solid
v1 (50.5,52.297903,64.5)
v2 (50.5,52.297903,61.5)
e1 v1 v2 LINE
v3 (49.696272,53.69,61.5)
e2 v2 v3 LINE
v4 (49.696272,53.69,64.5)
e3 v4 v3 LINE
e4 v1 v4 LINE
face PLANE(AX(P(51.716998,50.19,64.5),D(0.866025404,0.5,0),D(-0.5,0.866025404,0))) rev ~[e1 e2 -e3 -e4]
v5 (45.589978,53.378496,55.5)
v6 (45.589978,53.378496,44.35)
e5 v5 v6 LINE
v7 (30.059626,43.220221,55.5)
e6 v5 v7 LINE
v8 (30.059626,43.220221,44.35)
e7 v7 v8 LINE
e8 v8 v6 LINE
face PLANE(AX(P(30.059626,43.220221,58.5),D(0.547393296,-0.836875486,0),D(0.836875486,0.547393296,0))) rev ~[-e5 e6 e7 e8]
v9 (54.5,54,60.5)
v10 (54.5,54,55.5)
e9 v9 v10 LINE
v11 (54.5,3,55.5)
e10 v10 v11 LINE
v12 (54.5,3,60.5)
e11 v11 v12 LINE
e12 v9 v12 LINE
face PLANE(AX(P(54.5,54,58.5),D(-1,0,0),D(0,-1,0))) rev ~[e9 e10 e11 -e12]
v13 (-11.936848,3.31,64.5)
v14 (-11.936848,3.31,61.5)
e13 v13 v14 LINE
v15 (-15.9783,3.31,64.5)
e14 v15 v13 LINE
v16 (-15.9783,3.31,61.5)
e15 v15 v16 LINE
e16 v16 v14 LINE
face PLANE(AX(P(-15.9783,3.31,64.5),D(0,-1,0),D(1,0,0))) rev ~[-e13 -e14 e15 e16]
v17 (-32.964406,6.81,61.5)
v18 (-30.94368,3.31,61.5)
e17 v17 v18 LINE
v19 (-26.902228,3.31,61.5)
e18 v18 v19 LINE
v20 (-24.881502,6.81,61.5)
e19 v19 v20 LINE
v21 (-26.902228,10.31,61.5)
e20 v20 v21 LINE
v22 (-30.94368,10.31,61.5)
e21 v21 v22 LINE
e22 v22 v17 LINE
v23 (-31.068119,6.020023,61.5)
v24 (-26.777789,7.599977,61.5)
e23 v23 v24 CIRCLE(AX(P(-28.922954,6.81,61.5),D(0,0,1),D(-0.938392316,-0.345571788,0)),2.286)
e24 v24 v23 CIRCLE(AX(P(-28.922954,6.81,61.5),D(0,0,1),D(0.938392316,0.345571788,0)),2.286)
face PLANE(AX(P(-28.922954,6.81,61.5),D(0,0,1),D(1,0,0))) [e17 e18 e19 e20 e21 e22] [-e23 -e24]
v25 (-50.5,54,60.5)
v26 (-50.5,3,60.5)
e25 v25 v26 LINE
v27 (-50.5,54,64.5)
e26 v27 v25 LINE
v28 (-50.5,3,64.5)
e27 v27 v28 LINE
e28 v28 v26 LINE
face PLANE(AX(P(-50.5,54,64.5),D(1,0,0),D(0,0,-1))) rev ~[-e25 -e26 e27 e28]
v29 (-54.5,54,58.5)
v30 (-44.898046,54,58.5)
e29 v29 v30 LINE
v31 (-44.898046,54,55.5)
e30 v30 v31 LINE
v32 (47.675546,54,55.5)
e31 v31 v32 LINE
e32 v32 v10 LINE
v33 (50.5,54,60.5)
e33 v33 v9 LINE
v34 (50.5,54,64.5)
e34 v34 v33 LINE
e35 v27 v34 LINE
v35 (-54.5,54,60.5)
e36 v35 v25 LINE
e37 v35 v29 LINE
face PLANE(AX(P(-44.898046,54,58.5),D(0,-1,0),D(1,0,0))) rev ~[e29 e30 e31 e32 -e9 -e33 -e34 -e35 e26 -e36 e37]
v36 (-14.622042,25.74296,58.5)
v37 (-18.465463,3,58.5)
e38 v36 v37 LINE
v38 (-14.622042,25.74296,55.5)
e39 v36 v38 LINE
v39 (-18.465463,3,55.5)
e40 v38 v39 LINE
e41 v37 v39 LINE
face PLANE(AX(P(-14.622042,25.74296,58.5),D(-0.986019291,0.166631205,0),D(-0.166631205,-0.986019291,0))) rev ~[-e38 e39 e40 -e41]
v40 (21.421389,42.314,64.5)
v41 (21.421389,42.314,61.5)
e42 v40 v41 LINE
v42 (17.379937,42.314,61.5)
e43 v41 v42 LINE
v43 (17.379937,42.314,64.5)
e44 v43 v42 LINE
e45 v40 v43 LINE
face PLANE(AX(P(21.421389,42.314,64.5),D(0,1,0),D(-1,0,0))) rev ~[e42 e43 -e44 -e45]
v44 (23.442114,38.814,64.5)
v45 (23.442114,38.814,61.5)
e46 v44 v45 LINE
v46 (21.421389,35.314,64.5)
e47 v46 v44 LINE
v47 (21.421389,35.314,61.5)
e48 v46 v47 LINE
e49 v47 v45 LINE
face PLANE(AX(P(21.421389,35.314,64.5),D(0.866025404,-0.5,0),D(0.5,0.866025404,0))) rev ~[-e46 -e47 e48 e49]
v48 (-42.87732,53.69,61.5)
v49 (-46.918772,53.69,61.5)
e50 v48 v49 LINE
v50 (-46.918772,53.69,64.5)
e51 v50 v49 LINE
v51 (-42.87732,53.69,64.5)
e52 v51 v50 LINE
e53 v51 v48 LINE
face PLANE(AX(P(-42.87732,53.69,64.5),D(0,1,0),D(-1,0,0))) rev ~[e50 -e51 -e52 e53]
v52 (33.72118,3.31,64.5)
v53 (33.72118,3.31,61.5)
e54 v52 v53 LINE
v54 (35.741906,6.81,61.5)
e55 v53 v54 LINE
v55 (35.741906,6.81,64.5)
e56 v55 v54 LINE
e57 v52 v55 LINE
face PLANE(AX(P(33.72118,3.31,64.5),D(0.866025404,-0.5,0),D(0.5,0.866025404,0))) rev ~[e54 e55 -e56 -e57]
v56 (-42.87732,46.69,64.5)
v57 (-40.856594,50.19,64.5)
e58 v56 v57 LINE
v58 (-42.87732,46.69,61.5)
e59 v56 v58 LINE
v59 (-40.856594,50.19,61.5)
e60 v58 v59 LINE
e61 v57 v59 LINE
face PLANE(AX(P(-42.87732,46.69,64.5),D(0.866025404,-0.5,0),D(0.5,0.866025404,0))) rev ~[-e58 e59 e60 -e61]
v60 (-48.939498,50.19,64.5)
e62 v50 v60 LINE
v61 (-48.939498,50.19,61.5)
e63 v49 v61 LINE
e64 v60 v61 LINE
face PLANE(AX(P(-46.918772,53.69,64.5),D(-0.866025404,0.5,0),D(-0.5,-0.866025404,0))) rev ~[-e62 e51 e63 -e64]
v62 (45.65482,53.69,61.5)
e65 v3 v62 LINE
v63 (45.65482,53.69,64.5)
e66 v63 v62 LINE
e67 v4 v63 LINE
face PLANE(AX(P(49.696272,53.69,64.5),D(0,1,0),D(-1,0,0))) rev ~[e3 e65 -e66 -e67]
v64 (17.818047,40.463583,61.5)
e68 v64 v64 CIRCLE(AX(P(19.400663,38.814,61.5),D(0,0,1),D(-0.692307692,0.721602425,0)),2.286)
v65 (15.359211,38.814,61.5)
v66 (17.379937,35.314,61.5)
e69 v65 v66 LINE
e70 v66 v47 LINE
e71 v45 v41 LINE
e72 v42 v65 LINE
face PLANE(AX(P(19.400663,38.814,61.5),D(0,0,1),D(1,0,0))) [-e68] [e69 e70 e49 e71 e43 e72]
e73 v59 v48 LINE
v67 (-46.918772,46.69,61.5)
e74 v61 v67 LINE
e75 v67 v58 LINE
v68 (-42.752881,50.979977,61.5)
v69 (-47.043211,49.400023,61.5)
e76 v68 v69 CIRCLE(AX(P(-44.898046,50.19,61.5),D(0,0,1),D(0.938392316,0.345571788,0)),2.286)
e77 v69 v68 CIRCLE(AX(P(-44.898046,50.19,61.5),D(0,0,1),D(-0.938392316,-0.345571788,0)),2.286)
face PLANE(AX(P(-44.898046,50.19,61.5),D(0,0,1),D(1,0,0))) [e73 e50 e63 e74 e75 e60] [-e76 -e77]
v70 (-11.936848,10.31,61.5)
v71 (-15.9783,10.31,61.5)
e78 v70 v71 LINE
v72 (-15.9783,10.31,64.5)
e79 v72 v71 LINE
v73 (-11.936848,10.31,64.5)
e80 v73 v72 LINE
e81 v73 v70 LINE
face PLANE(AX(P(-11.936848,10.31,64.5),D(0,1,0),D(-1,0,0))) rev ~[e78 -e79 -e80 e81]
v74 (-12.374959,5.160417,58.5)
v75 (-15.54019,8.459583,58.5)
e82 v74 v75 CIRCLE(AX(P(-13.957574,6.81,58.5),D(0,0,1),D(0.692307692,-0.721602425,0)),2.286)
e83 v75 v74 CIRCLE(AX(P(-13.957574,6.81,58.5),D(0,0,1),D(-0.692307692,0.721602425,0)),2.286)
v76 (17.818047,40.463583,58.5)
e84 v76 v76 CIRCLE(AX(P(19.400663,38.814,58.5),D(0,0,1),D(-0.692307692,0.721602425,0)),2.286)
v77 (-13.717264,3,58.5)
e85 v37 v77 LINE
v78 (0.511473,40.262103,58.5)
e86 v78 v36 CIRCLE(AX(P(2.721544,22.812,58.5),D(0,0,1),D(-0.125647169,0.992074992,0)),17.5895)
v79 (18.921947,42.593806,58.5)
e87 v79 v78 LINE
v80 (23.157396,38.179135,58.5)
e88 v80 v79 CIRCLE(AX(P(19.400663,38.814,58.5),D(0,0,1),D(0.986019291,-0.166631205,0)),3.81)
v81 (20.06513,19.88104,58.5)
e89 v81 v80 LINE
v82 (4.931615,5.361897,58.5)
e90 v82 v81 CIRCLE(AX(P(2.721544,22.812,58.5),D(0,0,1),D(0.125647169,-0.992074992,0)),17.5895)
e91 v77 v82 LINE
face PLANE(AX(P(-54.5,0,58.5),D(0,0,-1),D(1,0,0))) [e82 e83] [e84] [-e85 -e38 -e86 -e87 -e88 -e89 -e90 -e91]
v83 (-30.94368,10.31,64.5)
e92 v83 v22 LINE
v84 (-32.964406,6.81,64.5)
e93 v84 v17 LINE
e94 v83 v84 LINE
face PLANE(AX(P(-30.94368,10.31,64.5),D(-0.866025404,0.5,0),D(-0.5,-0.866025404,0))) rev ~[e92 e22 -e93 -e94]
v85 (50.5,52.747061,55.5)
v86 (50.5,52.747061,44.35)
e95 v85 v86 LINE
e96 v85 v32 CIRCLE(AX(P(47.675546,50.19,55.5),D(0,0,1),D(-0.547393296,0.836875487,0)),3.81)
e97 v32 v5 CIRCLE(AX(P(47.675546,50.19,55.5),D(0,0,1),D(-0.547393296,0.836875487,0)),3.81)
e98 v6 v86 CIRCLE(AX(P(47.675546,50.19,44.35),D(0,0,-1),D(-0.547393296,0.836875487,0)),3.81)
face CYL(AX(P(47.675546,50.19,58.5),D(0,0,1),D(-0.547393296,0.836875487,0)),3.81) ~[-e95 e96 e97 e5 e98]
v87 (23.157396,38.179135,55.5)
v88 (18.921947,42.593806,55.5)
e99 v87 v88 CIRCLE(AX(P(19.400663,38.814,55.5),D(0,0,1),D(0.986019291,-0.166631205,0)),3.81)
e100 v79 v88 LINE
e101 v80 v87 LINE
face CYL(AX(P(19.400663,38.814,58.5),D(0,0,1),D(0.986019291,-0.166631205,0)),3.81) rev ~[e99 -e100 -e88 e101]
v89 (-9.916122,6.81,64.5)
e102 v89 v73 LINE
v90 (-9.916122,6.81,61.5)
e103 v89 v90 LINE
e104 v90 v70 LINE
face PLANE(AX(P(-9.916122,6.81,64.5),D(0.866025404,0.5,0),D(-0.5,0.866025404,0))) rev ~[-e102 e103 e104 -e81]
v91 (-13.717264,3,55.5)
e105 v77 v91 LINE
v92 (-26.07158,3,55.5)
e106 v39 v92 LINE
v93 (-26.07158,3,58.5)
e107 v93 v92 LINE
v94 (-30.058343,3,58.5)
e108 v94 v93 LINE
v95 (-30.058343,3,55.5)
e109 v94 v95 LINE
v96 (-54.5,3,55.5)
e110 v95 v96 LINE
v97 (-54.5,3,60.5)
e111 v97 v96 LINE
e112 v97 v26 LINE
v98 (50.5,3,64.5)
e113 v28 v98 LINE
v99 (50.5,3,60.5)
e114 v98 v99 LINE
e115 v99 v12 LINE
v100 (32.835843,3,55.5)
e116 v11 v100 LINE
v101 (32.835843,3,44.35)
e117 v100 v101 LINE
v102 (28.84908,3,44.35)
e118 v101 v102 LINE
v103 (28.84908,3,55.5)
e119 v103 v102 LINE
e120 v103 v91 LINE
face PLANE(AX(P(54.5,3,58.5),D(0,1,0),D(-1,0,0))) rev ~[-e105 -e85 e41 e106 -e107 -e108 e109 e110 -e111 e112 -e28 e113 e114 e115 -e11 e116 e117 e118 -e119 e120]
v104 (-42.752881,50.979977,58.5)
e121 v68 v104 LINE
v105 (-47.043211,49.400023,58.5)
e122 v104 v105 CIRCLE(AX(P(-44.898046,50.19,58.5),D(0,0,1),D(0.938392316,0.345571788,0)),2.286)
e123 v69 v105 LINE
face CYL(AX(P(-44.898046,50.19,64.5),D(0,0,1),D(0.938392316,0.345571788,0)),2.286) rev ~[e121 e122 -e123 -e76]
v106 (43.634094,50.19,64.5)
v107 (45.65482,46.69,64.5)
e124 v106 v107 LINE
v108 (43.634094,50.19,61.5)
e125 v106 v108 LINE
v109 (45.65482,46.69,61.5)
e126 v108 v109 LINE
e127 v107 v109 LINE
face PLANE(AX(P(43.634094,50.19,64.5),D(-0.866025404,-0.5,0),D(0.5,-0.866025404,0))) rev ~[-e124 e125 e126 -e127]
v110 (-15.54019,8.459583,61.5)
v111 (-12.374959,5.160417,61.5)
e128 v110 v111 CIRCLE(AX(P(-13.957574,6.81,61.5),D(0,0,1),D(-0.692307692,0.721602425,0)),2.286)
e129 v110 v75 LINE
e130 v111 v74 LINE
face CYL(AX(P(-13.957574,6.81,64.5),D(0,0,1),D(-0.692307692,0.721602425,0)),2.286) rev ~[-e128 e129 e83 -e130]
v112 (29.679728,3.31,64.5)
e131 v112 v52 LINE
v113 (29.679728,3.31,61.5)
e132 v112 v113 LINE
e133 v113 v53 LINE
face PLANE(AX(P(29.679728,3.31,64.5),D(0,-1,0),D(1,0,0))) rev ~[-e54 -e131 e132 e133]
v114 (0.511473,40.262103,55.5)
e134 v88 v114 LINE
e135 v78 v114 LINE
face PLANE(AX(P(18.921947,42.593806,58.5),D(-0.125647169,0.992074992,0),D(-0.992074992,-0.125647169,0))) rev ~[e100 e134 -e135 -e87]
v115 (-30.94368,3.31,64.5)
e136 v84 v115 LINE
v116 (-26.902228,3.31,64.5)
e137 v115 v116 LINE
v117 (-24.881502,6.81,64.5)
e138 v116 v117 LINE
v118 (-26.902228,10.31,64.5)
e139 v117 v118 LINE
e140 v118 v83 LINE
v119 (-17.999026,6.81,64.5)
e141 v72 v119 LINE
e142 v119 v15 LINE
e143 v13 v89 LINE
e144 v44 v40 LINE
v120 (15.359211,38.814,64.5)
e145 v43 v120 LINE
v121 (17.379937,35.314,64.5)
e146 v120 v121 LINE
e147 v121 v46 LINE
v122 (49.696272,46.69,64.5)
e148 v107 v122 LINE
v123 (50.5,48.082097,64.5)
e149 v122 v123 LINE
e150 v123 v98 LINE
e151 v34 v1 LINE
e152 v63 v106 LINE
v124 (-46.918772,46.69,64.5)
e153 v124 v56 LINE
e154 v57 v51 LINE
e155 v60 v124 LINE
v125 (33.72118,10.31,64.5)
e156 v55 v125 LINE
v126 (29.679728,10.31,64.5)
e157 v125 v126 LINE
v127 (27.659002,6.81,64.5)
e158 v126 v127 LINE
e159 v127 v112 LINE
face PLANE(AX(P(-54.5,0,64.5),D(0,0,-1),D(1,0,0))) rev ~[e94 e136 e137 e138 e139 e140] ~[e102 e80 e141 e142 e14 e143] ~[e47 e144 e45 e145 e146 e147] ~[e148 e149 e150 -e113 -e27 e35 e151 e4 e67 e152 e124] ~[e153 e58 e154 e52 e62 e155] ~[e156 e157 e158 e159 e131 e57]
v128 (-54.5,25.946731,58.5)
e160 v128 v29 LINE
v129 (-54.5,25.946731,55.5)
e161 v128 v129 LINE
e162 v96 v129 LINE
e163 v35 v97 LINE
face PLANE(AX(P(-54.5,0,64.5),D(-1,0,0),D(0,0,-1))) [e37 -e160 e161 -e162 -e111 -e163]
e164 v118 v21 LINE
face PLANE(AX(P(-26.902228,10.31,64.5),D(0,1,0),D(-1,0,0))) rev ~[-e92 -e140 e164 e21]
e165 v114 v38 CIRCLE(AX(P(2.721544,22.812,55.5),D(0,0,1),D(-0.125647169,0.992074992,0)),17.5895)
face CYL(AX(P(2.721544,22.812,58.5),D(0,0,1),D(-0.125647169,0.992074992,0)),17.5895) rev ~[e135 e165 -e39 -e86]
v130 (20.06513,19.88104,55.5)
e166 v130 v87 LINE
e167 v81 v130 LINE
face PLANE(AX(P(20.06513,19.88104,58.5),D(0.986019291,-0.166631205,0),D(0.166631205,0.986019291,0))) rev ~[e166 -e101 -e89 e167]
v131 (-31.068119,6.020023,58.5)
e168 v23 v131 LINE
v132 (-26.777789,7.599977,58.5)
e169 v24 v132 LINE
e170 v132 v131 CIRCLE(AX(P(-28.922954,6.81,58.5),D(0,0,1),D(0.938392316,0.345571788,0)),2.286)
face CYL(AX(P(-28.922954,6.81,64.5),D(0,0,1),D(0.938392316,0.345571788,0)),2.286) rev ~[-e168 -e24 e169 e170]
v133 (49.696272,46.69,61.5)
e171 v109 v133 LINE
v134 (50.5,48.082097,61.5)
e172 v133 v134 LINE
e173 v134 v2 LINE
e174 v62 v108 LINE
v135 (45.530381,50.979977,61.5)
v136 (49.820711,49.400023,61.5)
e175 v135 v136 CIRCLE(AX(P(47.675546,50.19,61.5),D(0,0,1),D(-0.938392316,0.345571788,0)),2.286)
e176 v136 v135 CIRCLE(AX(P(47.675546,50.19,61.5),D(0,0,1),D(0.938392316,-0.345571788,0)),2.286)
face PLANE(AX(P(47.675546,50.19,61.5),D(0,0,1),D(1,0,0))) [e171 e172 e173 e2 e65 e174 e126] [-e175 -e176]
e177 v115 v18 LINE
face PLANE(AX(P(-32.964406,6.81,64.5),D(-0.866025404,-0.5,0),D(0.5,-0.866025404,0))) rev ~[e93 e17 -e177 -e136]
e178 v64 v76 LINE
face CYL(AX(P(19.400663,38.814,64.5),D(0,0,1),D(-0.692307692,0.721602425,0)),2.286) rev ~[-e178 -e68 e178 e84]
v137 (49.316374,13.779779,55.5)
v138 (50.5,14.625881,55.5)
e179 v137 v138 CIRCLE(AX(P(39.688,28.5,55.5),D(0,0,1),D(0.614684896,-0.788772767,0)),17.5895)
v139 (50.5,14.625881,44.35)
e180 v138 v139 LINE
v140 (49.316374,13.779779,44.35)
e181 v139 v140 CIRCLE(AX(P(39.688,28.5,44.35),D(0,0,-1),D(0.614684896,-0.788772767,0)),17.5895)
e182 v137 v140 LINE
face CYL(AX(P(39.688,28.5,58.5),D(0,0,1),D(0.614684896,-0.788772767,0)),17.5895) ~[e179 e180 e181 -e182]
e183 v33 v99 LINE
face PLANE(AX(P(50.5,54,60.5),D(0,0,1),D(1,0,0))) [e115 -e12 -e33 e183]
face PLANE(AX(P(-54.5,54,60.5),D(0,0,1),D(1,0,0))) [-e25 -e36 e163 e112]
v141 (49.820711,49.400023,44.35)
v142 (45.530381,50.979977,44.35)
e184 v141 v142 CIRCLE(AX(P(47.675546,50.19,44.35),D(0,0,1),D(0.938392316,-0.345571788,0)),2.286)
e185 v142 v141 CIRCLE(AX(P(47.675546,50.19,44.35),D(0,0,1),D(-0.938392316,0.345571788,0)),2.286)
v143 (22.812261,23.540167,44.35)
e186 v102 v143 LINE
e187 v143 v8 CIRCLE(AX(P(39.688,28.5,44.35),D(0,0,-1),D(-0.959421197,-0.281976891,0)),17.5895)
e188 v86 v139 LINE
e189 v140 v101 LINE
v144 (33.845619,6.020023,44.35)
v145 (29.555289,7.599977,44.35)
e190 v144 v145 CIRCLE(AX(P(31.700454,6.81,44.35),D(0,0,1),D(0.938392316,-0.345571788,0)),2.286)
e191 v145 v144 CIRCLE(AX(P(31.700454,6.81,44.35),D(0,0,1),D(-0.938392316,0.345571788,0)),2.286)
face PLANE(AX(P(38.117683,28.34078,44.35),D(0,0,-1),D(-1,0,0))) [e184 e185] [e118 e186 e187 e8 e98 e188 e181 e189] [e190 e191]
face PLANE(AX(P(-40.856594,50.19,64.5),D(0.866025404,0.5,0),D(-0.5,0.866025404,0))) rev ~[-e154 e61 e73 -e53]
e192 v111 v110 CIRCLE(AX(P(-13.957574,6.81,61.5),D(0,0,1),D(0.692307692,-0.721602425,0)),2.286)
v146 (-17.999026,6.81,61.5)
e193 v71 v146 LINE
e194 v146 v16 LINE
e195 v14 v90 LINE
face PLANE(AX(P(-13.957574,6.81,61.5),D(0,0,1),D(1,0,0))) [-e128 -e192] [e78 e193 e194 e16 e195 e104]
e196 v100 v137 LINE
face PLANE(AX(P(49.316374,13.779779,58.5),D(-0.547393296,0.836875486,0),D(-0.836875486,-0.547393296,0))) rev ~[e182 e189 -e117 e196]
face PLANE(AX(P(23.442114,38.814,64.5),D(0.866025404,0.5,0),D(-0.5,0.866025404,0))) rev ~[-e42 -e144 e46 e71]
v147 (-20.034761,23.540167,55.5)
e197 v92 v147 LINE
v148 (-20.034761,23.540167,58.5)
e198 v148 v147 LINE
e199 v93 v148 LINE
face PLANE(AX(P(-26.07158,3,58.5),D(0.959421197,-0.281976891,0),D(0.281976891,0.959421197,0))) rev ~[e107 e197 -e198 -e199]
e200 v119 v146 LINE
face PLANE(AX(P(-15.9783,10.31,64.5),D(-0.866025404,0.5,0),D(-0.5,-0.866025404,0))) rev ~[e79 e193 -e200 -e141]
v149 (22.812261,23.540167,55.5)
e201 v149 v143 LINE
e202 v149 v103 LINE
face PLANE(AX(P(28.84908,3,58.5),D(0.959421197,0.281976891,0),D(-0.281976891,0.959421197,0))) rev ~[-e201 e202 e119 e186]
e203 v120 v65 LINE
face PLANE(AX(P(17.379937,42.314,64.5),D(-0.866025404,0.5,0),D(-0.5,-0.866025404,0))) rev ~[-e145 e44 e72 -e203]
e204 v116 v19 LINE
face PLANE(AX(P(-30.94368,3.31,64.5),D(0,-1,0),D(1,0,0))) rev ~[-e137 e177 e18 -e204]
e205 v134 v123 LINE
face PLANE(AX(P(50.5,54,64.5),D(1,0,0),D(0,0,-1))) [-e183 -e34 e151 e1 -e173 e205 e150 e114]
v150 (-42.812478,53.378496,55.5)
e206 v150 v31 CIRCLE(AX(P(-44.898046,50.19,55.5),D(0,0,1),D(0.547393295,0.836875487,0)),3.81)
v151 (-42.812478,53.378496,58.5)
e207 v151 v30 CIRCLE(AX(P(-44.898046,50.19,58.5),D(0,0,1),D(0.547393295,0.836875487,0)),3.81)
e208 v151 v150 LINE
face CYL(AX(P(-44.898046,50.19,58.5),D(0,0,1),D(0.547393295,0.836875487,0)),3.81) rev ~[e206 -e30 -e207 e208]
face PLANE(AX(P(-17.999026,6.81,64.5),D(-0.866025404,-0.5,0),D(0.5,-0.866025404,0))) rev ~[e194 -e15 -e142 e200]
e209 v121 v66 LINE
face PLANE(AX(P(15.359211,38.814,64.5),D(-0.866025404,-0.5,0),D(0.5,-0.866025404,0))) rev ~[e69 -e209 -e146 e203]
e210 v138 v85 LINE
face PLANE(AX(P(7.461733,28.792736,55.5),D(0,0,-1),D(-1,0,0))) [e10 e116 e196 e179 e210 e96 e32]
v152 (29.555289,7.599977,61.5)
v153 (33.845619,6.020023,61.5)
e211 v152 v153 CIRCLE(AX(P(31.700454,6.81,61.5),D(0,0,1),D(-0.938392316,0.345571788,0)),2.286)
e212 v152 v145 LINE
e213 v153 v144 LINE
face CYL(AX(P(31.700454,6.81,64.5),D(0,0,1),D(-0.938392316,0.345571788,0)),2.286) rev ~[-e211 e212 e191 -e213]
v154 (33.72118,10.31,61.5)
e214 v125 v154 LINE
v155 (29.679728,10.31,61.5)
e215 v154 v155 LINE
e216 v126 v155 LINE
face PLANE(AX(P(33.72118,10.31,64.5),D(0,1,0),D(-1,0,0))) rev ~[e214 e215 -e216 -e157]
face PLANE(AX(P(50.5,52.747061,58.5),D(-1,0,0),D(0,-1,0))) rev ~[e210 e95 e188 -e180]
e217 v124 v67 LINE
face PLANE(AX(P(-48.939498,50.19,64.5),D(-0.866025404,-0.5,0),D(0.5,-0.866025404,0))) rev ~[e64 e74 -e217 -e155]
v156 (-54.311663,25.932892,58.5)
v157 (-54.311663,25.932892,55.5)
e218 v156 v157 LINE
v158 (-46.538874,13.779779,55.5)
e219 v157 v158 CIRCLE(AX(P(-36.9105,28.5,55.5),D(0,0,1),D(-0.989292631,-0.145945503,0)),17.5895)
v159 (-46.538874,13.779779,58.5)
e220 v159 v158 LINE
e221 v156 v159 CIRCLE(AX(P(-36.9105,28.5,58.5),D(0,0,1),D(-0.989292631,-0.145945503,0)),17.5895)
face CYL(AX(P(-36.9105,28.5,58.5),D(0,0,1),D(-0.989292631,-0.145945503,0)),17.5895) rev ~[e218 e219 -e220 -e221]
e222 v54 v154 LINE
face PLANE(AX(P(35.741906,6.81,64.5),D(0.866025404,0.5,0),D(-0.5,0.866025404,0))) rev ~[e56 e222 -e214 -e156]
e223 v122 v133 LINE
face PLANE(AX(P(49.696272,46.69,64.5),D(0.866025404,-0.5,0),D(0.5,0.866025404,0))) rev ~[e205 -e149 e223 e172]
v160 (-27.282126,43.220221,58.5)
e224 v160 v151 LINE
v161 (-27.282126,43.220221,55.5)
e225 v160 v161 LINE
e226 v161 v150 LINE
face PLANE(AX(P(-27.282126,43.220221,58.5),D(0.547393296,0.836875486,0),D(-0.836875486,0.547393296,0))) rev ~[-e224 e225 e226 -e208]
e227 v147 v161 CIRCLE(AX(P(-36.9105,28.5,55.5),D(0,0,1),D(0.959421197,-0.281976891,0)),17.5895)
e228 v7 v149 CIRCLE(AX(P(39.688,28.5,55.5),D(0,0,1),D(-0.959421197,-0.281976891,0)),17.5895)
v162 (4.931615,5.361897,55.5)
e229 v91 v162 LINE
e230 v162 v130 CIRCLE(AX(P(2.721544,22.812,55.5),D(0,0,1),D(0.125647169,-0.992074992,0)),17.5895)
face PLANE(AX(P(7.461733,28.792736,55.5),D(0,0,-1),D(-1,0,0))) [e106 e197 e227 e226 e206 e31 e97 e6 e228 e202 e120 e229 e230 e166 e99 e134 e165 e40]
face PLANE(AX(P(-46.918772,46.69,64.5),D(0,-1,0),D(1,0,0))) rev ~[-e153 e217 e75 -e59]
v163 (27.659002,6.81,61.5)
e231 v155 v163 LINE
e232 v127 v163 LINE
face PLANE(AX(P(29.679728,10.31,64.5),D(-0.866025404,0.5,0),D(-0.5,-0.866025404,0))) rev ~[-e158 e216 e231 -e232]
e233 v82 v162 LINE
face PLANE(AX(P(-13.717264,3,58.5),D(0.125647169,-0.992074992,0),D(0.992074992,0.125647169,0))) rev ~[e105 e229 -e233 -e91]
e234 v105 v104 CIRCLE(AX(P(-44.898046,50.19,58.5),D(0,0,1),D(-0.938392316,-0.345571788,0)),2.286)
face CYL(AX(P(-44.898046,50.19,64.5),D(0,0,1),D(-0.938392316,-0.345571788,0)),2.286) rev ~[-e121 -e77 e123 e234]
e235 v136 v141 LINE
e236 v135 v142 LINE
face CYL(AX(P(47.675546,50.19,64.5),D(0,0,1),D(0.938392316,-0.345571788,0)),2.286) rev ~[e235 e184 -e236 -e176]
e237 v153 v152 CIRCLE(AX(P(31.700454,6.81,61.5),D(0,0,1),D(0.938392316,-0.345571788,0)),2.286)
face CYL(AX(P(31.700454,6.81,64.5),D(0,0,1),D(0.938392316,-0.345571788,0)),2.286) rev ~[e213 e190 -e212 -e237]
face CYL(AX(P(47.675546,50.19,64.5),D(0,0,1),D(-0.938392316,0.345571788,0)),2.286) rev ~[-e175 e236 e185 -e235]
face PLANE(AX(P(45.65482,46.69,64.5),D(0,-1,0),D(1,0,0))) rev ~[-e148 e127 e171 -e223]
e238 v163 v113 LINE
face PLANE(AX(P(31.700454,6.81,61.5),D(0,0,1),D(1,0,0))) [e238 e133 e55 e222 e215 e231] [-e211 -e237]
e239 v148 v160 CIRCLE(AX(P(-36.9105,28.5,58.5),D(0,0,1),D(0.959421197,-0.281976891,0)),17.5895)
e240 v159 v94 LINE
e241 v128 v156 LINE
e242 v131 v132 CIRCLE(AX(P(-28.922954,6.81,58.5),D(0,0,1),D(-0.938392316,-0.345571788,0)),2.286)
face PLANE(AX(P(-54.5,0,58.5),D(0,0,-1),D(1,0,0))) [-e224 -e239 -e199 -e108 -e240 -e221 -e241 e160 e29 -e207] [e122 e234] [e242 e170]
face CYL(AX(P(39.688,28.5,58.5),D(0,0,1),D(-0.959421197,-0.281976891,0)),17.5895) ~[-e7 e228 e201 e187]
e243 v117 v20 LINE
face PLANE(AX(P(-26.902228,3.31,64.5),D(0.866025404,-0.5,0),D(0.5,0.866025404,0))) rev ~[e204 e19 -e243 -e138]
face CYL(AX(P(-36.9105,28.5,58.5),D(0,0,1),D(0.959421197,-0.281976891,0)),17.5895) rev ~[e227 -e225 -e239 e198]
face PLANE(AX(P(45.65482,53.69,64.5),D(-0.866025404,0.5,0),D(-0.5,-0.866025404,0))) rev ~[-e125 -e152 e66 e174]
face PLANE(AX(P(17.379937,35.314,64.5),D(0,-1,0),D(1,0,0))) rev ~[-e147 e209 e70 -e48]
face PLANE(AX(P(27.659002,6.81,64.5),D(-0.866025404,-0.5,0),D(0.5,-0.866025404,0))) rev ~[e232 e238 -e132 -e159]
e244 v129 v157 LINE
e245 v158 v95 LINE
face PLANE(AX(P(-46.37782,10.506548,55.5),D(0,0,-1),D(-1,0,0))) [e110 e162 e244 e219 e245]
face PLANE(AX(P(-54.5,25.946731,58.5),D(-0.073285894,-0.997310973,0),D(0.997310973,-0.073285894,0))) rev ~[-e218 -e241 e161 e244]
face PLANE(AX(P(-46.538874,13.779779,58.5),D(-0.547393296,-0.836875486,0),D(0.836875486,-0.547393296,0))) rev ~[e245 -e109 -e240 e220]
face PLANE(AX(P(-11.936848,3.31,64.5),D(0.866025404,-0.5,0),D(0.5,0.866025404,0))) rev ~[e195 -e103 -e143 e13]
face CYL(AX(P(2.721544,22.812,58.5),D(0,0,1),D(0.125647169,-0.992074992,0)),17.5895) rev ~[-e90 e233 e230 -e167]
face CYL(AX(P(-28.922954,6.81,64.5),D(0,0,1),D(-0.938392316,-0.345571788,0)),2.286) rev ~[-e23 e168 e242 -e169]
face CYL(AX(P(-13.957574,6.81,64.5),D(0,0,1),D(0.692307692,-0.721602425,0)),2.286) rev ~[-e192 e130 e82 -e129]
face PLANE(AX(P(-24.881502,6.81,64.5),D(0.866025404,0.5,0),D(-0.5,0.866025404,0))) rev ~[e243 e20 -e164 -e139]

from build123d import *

# Parameters (mm, degrees)
SKETCH2_W            = 109
SKETCH2_H            = 6
BOSS_EXTRUDE2_DEPTH  = 54
BOSS_EXTRUDE18_DEPTH = 3
BOSS_EXTRUDE14_DEPTH = 14.15
CUT_EXTRUDE7_DEPTH   = 23
CUT_EXTRUDE8_DEPTH   = 3
SKETCH33_W           = 6
SKETCH33_H           = 3
CUT_EXTRUDE9_DEPTH   = 123
SKETCH34_W           = 4
SKETCH34_H           = 4
CUT_EXTRUDE10_DEPTH  = 86


with BuildPart() as part:
    # Sketch2 → Boss-Extrude2 (new body)
    with BuildSketch(Plane(origin=(0, 0, 0), x_dir=(1, 0, 0), z_dir=(0, 1, 0))):
        with Locations((0, -61.5)):
            Rectangle(SKETCH2_W, SKETCH2_H)
    extrude(amount=BOSS_EXTRUDE2_DEPTH)

    # Sketch30 → Boss-Extrude18 (add)
    with BuildSketch(Plane(origin=(0, 0, 58.5), x_dir=(-1, 0, 0), z_dir=(0, 0, -1))):
        with BuildLine():
            Line((44.898046307, 54), (-54.5, 54))
            Line((-54.5, 54), (-54.5, 3))
            Line((-54.5, 3), (13.717264207, 3))
            Line((13.717264207, 3), (-4.931615029, 5.361896936))
            ThreePointArc((-4.931615029, 5.361896936), (-14.898890302, 10.119374153), (-20.065130462, 19.881040427))
            Line((-20.065130462, 19.881040427), (-23.157396088, 38.179135111))
            ThreePointArc((-23.157396088, 38.179135111), (-22.149967828, 41.451692308), (-18.921946876, 42.593805718))
            Line((-18.921946876, 42.593805718), (-0.511473267, 40.262103064))
            ThreePointArc((-0.511473267, 40.262103064), (9.455802006, 35.504625847), (14.622042166, 25.742959573))
            Line((14.622042166, 25.742959573), (18.46546266, 3))
            Line((18.46546266, 3), (26.071580329, 3))
            Line((26.071580329, 3), (20.034760857, 23.540167479))
            ThreePointArc((20.034760857, 23.540167479), (20.404648352, 34.578434964), (27.282125622, 43.220221367))
            Line((27.282125622, 43.220221367), (42.812477849, 53.378495603))
            ThreePointArc((42.812477849, 53.378495603), (43.809944346, 53.841319504), (44.898046307, 54))
        make_face()
        with BuildLine():
            Line((54.5, 3), (54.5, 25.946731257))
            Line((54.5, 25.946731257), (54.311662737, 25.932891577))
            ThreePointArc((54.311662737, 25.932891577), (51.728512948, 19.022816741), (46.538874378, 13.779778633))
            Line((46.538874378, 13.779778633), (30.058342822, 3))
            Line((30.058342822, 3), (54.5, 3))
        make_face()
    extrude(amount=BOSS_EXTRUDE18_DEPTH)

    # Sketch26 → Boss-Extrude14 (add)
    with BuildSketch(Plane(origin=(0, 0, 58.5), x_dir=(-1, 0, 0), z_dir=(0, 0, -1))):
        with BuildLine():
            Line((-32.835842822, 3), (-28.849080329, 3))
            Line((-28.849080329, 3), (-22.812260857, 23.540167479))
            ThreePointArc((-22.812260857, 23.540167479), (-23.182148352, 34.578434964), (-30.059625622, 43.220221367))
            Line((-30.059625622, 43.220221367), (-45.589977849, 53.378495603))
            ThreePointArc((-45.589977849, 53.378495603), (-48.161514659, 53.968880093), (-50.5, 52.747061074))
            Line((-50.5, 52.747061074), (-50.5, 14.625881424))
            ThreePointArc((-50.5, 14.625881424), (-49.916939273, 14.190586609), (-49.316374378, 13.779778633))
            Line((-49.316374378, 13.779778633), (-32.835842822, 3))
        make_face()
    extrude(amount=BOSS_EXTRUDE14_DEPTH)

    # Sketch9 → Cut-Extrude7 (cut)
    with BuildSketch(Plane.XY.offset(64.5)):
        with BuildLine():
            ThreePointArc((-42.752881471, 50.979977107), (-45.688023414, 52.335164835), (-47.043211142, 49.400022893))
            ThreePointArc((-47.043211142, 49.400022893), (-44.108069199, 48.044835165), (-42.752881471, 50.979977107))
        make_face()
        with BuildLine():
            ThreePointArc((-31.068118529, 6.020022893), (-28.132976586, 4.664835165), (-26.777788858, 7.599977107))
            ThreePointArc((-26.777788858, 7.599977107), (-29.712930801, 8.955164835), (-31.068118529, 6.020022893))
        make_face()
        with BuildLine():
            ThreePointArc((-15.540189678, 8.459583143), (-15.607157436, 5.227384615), (-12.374958909, 5.160416857))
            ThreePointArc((-12.374958909, 5.160416857), (-12.307991151, 8.392615385), (-15.540189678, 8.459583143))
        make_face()
        with BuildLine():
            ThreePointArc((20.983277975, 37.164416857), (21.050245733, 40.396615385), (17.818047205, 40.463583143))
            ThreePointArc((17.818047205, 40.463583143), (17.751079447, 37.231384615), (20.983277975, 37.164416857))
        make_face()
        with BuildLine():
            ThreePointArc((29.555288858, 7.599977107), (30.910476586, 4.664835165), (33.845618529, 6.020022893))
            ThreePointArc((33.845618529, 6.020022893), (32.490430801, 8.955164835), (29.555288858, 7.599977107))
        make_face()
        with BuildLine():
            ThreePointArc((49.820711142, 49.400022893), (48.465523414, 52.335164835), (45.530381471, 50.979977107))
            ThreePointArc((45.530381471, 50.979977107), (46.885569199, 48.044835165), (49.820711142, 49.400022893))
        make_face()
    extrude(amount=-CUT_EXTRUDE7_DEPTH, mode=Mode.SUBTRACT)

    # Sketch24 → Cut-Extrude8 (cut)
    with BuildSketch(Plane.XY.offset(64.5)):
        Polygon((-40.856594422, 50.19), (-42.877320364, 53.69), (-46.918772249, 53.69), (-48.939498191, 50.19), (-46.918772249, 46.69), (-42.877320364, 46.69), align=None)
        Polygon((51.716998191, 50.19), (49.696272249, 53.69), (45.654820364, 53.69), (43.634094422, 50.19), (45.654820364, 46.69), (49.696272249, 46.69), align=None)
        Polygon((35.741905578, 6.81), (33.721179636, 10.31), (29.679727751, 10.31), (27.659001809, 6.81), (29.679727751, 3.31), (33.721179636, 3.31), align=None)
        Polygon((-9.916122409, 6.81), (-11.936848352, 10.31), (-15.978300236, 10.31), (-17.999026178, 6.81), (-15.978300236, 3.31), (-11.936848352, 3.31), align=None)
        Polygon((23.442114474, 38.814), (21.421388532, 42.314), (17.379936648, 42.314), (15.359210706, 38.814), (17.379936648, 35.314), (21.421388532, 35.314), align=None)
        Polygon((-24.881501809, 6.81), (-26.902227751, 10.31), (-30.943679636, 10.31), (-32.964405578, 6.81), (-30.943679636, 3.31), (-26.902227751, 3.31), align=None)
    extrude(amount=-CUT_EXTRUDE8_DEPTH, mode=Mode.SUBTRACT)

    # Sketch33 → Cut-Extrude9 (cut)
    with BuildSketch(Plane.ZY.offset(54.5)):
        with Locations((61.5, 1.5)):
            Rectangle(SKETCH33_W, SKETCH33_H)
    extrude(amount=-CUT_EXTRUDE9_DEPTH, mode=Mode.SUBTRACT)

    # Sketch34 → Cut-Extrude10 (cut)
    with BuildSketch(Plane(origin=(0, 54, 0), x_dir=(1, 0, 0), z_dir=(0, 1, 0))):
        with Locations((-52.5, -62.5)):
            Rectangle(SKETCH34_W, SKETCH34_H)
        with Locations((52.5, -62.5)):
            Rectangle(SKETCH34_W, SKETCH34_H)
    extrude(amount=-CUT_EXTRUDE10_DEPTH, mode=Mode.SUBTRACT)


solid = part.part
